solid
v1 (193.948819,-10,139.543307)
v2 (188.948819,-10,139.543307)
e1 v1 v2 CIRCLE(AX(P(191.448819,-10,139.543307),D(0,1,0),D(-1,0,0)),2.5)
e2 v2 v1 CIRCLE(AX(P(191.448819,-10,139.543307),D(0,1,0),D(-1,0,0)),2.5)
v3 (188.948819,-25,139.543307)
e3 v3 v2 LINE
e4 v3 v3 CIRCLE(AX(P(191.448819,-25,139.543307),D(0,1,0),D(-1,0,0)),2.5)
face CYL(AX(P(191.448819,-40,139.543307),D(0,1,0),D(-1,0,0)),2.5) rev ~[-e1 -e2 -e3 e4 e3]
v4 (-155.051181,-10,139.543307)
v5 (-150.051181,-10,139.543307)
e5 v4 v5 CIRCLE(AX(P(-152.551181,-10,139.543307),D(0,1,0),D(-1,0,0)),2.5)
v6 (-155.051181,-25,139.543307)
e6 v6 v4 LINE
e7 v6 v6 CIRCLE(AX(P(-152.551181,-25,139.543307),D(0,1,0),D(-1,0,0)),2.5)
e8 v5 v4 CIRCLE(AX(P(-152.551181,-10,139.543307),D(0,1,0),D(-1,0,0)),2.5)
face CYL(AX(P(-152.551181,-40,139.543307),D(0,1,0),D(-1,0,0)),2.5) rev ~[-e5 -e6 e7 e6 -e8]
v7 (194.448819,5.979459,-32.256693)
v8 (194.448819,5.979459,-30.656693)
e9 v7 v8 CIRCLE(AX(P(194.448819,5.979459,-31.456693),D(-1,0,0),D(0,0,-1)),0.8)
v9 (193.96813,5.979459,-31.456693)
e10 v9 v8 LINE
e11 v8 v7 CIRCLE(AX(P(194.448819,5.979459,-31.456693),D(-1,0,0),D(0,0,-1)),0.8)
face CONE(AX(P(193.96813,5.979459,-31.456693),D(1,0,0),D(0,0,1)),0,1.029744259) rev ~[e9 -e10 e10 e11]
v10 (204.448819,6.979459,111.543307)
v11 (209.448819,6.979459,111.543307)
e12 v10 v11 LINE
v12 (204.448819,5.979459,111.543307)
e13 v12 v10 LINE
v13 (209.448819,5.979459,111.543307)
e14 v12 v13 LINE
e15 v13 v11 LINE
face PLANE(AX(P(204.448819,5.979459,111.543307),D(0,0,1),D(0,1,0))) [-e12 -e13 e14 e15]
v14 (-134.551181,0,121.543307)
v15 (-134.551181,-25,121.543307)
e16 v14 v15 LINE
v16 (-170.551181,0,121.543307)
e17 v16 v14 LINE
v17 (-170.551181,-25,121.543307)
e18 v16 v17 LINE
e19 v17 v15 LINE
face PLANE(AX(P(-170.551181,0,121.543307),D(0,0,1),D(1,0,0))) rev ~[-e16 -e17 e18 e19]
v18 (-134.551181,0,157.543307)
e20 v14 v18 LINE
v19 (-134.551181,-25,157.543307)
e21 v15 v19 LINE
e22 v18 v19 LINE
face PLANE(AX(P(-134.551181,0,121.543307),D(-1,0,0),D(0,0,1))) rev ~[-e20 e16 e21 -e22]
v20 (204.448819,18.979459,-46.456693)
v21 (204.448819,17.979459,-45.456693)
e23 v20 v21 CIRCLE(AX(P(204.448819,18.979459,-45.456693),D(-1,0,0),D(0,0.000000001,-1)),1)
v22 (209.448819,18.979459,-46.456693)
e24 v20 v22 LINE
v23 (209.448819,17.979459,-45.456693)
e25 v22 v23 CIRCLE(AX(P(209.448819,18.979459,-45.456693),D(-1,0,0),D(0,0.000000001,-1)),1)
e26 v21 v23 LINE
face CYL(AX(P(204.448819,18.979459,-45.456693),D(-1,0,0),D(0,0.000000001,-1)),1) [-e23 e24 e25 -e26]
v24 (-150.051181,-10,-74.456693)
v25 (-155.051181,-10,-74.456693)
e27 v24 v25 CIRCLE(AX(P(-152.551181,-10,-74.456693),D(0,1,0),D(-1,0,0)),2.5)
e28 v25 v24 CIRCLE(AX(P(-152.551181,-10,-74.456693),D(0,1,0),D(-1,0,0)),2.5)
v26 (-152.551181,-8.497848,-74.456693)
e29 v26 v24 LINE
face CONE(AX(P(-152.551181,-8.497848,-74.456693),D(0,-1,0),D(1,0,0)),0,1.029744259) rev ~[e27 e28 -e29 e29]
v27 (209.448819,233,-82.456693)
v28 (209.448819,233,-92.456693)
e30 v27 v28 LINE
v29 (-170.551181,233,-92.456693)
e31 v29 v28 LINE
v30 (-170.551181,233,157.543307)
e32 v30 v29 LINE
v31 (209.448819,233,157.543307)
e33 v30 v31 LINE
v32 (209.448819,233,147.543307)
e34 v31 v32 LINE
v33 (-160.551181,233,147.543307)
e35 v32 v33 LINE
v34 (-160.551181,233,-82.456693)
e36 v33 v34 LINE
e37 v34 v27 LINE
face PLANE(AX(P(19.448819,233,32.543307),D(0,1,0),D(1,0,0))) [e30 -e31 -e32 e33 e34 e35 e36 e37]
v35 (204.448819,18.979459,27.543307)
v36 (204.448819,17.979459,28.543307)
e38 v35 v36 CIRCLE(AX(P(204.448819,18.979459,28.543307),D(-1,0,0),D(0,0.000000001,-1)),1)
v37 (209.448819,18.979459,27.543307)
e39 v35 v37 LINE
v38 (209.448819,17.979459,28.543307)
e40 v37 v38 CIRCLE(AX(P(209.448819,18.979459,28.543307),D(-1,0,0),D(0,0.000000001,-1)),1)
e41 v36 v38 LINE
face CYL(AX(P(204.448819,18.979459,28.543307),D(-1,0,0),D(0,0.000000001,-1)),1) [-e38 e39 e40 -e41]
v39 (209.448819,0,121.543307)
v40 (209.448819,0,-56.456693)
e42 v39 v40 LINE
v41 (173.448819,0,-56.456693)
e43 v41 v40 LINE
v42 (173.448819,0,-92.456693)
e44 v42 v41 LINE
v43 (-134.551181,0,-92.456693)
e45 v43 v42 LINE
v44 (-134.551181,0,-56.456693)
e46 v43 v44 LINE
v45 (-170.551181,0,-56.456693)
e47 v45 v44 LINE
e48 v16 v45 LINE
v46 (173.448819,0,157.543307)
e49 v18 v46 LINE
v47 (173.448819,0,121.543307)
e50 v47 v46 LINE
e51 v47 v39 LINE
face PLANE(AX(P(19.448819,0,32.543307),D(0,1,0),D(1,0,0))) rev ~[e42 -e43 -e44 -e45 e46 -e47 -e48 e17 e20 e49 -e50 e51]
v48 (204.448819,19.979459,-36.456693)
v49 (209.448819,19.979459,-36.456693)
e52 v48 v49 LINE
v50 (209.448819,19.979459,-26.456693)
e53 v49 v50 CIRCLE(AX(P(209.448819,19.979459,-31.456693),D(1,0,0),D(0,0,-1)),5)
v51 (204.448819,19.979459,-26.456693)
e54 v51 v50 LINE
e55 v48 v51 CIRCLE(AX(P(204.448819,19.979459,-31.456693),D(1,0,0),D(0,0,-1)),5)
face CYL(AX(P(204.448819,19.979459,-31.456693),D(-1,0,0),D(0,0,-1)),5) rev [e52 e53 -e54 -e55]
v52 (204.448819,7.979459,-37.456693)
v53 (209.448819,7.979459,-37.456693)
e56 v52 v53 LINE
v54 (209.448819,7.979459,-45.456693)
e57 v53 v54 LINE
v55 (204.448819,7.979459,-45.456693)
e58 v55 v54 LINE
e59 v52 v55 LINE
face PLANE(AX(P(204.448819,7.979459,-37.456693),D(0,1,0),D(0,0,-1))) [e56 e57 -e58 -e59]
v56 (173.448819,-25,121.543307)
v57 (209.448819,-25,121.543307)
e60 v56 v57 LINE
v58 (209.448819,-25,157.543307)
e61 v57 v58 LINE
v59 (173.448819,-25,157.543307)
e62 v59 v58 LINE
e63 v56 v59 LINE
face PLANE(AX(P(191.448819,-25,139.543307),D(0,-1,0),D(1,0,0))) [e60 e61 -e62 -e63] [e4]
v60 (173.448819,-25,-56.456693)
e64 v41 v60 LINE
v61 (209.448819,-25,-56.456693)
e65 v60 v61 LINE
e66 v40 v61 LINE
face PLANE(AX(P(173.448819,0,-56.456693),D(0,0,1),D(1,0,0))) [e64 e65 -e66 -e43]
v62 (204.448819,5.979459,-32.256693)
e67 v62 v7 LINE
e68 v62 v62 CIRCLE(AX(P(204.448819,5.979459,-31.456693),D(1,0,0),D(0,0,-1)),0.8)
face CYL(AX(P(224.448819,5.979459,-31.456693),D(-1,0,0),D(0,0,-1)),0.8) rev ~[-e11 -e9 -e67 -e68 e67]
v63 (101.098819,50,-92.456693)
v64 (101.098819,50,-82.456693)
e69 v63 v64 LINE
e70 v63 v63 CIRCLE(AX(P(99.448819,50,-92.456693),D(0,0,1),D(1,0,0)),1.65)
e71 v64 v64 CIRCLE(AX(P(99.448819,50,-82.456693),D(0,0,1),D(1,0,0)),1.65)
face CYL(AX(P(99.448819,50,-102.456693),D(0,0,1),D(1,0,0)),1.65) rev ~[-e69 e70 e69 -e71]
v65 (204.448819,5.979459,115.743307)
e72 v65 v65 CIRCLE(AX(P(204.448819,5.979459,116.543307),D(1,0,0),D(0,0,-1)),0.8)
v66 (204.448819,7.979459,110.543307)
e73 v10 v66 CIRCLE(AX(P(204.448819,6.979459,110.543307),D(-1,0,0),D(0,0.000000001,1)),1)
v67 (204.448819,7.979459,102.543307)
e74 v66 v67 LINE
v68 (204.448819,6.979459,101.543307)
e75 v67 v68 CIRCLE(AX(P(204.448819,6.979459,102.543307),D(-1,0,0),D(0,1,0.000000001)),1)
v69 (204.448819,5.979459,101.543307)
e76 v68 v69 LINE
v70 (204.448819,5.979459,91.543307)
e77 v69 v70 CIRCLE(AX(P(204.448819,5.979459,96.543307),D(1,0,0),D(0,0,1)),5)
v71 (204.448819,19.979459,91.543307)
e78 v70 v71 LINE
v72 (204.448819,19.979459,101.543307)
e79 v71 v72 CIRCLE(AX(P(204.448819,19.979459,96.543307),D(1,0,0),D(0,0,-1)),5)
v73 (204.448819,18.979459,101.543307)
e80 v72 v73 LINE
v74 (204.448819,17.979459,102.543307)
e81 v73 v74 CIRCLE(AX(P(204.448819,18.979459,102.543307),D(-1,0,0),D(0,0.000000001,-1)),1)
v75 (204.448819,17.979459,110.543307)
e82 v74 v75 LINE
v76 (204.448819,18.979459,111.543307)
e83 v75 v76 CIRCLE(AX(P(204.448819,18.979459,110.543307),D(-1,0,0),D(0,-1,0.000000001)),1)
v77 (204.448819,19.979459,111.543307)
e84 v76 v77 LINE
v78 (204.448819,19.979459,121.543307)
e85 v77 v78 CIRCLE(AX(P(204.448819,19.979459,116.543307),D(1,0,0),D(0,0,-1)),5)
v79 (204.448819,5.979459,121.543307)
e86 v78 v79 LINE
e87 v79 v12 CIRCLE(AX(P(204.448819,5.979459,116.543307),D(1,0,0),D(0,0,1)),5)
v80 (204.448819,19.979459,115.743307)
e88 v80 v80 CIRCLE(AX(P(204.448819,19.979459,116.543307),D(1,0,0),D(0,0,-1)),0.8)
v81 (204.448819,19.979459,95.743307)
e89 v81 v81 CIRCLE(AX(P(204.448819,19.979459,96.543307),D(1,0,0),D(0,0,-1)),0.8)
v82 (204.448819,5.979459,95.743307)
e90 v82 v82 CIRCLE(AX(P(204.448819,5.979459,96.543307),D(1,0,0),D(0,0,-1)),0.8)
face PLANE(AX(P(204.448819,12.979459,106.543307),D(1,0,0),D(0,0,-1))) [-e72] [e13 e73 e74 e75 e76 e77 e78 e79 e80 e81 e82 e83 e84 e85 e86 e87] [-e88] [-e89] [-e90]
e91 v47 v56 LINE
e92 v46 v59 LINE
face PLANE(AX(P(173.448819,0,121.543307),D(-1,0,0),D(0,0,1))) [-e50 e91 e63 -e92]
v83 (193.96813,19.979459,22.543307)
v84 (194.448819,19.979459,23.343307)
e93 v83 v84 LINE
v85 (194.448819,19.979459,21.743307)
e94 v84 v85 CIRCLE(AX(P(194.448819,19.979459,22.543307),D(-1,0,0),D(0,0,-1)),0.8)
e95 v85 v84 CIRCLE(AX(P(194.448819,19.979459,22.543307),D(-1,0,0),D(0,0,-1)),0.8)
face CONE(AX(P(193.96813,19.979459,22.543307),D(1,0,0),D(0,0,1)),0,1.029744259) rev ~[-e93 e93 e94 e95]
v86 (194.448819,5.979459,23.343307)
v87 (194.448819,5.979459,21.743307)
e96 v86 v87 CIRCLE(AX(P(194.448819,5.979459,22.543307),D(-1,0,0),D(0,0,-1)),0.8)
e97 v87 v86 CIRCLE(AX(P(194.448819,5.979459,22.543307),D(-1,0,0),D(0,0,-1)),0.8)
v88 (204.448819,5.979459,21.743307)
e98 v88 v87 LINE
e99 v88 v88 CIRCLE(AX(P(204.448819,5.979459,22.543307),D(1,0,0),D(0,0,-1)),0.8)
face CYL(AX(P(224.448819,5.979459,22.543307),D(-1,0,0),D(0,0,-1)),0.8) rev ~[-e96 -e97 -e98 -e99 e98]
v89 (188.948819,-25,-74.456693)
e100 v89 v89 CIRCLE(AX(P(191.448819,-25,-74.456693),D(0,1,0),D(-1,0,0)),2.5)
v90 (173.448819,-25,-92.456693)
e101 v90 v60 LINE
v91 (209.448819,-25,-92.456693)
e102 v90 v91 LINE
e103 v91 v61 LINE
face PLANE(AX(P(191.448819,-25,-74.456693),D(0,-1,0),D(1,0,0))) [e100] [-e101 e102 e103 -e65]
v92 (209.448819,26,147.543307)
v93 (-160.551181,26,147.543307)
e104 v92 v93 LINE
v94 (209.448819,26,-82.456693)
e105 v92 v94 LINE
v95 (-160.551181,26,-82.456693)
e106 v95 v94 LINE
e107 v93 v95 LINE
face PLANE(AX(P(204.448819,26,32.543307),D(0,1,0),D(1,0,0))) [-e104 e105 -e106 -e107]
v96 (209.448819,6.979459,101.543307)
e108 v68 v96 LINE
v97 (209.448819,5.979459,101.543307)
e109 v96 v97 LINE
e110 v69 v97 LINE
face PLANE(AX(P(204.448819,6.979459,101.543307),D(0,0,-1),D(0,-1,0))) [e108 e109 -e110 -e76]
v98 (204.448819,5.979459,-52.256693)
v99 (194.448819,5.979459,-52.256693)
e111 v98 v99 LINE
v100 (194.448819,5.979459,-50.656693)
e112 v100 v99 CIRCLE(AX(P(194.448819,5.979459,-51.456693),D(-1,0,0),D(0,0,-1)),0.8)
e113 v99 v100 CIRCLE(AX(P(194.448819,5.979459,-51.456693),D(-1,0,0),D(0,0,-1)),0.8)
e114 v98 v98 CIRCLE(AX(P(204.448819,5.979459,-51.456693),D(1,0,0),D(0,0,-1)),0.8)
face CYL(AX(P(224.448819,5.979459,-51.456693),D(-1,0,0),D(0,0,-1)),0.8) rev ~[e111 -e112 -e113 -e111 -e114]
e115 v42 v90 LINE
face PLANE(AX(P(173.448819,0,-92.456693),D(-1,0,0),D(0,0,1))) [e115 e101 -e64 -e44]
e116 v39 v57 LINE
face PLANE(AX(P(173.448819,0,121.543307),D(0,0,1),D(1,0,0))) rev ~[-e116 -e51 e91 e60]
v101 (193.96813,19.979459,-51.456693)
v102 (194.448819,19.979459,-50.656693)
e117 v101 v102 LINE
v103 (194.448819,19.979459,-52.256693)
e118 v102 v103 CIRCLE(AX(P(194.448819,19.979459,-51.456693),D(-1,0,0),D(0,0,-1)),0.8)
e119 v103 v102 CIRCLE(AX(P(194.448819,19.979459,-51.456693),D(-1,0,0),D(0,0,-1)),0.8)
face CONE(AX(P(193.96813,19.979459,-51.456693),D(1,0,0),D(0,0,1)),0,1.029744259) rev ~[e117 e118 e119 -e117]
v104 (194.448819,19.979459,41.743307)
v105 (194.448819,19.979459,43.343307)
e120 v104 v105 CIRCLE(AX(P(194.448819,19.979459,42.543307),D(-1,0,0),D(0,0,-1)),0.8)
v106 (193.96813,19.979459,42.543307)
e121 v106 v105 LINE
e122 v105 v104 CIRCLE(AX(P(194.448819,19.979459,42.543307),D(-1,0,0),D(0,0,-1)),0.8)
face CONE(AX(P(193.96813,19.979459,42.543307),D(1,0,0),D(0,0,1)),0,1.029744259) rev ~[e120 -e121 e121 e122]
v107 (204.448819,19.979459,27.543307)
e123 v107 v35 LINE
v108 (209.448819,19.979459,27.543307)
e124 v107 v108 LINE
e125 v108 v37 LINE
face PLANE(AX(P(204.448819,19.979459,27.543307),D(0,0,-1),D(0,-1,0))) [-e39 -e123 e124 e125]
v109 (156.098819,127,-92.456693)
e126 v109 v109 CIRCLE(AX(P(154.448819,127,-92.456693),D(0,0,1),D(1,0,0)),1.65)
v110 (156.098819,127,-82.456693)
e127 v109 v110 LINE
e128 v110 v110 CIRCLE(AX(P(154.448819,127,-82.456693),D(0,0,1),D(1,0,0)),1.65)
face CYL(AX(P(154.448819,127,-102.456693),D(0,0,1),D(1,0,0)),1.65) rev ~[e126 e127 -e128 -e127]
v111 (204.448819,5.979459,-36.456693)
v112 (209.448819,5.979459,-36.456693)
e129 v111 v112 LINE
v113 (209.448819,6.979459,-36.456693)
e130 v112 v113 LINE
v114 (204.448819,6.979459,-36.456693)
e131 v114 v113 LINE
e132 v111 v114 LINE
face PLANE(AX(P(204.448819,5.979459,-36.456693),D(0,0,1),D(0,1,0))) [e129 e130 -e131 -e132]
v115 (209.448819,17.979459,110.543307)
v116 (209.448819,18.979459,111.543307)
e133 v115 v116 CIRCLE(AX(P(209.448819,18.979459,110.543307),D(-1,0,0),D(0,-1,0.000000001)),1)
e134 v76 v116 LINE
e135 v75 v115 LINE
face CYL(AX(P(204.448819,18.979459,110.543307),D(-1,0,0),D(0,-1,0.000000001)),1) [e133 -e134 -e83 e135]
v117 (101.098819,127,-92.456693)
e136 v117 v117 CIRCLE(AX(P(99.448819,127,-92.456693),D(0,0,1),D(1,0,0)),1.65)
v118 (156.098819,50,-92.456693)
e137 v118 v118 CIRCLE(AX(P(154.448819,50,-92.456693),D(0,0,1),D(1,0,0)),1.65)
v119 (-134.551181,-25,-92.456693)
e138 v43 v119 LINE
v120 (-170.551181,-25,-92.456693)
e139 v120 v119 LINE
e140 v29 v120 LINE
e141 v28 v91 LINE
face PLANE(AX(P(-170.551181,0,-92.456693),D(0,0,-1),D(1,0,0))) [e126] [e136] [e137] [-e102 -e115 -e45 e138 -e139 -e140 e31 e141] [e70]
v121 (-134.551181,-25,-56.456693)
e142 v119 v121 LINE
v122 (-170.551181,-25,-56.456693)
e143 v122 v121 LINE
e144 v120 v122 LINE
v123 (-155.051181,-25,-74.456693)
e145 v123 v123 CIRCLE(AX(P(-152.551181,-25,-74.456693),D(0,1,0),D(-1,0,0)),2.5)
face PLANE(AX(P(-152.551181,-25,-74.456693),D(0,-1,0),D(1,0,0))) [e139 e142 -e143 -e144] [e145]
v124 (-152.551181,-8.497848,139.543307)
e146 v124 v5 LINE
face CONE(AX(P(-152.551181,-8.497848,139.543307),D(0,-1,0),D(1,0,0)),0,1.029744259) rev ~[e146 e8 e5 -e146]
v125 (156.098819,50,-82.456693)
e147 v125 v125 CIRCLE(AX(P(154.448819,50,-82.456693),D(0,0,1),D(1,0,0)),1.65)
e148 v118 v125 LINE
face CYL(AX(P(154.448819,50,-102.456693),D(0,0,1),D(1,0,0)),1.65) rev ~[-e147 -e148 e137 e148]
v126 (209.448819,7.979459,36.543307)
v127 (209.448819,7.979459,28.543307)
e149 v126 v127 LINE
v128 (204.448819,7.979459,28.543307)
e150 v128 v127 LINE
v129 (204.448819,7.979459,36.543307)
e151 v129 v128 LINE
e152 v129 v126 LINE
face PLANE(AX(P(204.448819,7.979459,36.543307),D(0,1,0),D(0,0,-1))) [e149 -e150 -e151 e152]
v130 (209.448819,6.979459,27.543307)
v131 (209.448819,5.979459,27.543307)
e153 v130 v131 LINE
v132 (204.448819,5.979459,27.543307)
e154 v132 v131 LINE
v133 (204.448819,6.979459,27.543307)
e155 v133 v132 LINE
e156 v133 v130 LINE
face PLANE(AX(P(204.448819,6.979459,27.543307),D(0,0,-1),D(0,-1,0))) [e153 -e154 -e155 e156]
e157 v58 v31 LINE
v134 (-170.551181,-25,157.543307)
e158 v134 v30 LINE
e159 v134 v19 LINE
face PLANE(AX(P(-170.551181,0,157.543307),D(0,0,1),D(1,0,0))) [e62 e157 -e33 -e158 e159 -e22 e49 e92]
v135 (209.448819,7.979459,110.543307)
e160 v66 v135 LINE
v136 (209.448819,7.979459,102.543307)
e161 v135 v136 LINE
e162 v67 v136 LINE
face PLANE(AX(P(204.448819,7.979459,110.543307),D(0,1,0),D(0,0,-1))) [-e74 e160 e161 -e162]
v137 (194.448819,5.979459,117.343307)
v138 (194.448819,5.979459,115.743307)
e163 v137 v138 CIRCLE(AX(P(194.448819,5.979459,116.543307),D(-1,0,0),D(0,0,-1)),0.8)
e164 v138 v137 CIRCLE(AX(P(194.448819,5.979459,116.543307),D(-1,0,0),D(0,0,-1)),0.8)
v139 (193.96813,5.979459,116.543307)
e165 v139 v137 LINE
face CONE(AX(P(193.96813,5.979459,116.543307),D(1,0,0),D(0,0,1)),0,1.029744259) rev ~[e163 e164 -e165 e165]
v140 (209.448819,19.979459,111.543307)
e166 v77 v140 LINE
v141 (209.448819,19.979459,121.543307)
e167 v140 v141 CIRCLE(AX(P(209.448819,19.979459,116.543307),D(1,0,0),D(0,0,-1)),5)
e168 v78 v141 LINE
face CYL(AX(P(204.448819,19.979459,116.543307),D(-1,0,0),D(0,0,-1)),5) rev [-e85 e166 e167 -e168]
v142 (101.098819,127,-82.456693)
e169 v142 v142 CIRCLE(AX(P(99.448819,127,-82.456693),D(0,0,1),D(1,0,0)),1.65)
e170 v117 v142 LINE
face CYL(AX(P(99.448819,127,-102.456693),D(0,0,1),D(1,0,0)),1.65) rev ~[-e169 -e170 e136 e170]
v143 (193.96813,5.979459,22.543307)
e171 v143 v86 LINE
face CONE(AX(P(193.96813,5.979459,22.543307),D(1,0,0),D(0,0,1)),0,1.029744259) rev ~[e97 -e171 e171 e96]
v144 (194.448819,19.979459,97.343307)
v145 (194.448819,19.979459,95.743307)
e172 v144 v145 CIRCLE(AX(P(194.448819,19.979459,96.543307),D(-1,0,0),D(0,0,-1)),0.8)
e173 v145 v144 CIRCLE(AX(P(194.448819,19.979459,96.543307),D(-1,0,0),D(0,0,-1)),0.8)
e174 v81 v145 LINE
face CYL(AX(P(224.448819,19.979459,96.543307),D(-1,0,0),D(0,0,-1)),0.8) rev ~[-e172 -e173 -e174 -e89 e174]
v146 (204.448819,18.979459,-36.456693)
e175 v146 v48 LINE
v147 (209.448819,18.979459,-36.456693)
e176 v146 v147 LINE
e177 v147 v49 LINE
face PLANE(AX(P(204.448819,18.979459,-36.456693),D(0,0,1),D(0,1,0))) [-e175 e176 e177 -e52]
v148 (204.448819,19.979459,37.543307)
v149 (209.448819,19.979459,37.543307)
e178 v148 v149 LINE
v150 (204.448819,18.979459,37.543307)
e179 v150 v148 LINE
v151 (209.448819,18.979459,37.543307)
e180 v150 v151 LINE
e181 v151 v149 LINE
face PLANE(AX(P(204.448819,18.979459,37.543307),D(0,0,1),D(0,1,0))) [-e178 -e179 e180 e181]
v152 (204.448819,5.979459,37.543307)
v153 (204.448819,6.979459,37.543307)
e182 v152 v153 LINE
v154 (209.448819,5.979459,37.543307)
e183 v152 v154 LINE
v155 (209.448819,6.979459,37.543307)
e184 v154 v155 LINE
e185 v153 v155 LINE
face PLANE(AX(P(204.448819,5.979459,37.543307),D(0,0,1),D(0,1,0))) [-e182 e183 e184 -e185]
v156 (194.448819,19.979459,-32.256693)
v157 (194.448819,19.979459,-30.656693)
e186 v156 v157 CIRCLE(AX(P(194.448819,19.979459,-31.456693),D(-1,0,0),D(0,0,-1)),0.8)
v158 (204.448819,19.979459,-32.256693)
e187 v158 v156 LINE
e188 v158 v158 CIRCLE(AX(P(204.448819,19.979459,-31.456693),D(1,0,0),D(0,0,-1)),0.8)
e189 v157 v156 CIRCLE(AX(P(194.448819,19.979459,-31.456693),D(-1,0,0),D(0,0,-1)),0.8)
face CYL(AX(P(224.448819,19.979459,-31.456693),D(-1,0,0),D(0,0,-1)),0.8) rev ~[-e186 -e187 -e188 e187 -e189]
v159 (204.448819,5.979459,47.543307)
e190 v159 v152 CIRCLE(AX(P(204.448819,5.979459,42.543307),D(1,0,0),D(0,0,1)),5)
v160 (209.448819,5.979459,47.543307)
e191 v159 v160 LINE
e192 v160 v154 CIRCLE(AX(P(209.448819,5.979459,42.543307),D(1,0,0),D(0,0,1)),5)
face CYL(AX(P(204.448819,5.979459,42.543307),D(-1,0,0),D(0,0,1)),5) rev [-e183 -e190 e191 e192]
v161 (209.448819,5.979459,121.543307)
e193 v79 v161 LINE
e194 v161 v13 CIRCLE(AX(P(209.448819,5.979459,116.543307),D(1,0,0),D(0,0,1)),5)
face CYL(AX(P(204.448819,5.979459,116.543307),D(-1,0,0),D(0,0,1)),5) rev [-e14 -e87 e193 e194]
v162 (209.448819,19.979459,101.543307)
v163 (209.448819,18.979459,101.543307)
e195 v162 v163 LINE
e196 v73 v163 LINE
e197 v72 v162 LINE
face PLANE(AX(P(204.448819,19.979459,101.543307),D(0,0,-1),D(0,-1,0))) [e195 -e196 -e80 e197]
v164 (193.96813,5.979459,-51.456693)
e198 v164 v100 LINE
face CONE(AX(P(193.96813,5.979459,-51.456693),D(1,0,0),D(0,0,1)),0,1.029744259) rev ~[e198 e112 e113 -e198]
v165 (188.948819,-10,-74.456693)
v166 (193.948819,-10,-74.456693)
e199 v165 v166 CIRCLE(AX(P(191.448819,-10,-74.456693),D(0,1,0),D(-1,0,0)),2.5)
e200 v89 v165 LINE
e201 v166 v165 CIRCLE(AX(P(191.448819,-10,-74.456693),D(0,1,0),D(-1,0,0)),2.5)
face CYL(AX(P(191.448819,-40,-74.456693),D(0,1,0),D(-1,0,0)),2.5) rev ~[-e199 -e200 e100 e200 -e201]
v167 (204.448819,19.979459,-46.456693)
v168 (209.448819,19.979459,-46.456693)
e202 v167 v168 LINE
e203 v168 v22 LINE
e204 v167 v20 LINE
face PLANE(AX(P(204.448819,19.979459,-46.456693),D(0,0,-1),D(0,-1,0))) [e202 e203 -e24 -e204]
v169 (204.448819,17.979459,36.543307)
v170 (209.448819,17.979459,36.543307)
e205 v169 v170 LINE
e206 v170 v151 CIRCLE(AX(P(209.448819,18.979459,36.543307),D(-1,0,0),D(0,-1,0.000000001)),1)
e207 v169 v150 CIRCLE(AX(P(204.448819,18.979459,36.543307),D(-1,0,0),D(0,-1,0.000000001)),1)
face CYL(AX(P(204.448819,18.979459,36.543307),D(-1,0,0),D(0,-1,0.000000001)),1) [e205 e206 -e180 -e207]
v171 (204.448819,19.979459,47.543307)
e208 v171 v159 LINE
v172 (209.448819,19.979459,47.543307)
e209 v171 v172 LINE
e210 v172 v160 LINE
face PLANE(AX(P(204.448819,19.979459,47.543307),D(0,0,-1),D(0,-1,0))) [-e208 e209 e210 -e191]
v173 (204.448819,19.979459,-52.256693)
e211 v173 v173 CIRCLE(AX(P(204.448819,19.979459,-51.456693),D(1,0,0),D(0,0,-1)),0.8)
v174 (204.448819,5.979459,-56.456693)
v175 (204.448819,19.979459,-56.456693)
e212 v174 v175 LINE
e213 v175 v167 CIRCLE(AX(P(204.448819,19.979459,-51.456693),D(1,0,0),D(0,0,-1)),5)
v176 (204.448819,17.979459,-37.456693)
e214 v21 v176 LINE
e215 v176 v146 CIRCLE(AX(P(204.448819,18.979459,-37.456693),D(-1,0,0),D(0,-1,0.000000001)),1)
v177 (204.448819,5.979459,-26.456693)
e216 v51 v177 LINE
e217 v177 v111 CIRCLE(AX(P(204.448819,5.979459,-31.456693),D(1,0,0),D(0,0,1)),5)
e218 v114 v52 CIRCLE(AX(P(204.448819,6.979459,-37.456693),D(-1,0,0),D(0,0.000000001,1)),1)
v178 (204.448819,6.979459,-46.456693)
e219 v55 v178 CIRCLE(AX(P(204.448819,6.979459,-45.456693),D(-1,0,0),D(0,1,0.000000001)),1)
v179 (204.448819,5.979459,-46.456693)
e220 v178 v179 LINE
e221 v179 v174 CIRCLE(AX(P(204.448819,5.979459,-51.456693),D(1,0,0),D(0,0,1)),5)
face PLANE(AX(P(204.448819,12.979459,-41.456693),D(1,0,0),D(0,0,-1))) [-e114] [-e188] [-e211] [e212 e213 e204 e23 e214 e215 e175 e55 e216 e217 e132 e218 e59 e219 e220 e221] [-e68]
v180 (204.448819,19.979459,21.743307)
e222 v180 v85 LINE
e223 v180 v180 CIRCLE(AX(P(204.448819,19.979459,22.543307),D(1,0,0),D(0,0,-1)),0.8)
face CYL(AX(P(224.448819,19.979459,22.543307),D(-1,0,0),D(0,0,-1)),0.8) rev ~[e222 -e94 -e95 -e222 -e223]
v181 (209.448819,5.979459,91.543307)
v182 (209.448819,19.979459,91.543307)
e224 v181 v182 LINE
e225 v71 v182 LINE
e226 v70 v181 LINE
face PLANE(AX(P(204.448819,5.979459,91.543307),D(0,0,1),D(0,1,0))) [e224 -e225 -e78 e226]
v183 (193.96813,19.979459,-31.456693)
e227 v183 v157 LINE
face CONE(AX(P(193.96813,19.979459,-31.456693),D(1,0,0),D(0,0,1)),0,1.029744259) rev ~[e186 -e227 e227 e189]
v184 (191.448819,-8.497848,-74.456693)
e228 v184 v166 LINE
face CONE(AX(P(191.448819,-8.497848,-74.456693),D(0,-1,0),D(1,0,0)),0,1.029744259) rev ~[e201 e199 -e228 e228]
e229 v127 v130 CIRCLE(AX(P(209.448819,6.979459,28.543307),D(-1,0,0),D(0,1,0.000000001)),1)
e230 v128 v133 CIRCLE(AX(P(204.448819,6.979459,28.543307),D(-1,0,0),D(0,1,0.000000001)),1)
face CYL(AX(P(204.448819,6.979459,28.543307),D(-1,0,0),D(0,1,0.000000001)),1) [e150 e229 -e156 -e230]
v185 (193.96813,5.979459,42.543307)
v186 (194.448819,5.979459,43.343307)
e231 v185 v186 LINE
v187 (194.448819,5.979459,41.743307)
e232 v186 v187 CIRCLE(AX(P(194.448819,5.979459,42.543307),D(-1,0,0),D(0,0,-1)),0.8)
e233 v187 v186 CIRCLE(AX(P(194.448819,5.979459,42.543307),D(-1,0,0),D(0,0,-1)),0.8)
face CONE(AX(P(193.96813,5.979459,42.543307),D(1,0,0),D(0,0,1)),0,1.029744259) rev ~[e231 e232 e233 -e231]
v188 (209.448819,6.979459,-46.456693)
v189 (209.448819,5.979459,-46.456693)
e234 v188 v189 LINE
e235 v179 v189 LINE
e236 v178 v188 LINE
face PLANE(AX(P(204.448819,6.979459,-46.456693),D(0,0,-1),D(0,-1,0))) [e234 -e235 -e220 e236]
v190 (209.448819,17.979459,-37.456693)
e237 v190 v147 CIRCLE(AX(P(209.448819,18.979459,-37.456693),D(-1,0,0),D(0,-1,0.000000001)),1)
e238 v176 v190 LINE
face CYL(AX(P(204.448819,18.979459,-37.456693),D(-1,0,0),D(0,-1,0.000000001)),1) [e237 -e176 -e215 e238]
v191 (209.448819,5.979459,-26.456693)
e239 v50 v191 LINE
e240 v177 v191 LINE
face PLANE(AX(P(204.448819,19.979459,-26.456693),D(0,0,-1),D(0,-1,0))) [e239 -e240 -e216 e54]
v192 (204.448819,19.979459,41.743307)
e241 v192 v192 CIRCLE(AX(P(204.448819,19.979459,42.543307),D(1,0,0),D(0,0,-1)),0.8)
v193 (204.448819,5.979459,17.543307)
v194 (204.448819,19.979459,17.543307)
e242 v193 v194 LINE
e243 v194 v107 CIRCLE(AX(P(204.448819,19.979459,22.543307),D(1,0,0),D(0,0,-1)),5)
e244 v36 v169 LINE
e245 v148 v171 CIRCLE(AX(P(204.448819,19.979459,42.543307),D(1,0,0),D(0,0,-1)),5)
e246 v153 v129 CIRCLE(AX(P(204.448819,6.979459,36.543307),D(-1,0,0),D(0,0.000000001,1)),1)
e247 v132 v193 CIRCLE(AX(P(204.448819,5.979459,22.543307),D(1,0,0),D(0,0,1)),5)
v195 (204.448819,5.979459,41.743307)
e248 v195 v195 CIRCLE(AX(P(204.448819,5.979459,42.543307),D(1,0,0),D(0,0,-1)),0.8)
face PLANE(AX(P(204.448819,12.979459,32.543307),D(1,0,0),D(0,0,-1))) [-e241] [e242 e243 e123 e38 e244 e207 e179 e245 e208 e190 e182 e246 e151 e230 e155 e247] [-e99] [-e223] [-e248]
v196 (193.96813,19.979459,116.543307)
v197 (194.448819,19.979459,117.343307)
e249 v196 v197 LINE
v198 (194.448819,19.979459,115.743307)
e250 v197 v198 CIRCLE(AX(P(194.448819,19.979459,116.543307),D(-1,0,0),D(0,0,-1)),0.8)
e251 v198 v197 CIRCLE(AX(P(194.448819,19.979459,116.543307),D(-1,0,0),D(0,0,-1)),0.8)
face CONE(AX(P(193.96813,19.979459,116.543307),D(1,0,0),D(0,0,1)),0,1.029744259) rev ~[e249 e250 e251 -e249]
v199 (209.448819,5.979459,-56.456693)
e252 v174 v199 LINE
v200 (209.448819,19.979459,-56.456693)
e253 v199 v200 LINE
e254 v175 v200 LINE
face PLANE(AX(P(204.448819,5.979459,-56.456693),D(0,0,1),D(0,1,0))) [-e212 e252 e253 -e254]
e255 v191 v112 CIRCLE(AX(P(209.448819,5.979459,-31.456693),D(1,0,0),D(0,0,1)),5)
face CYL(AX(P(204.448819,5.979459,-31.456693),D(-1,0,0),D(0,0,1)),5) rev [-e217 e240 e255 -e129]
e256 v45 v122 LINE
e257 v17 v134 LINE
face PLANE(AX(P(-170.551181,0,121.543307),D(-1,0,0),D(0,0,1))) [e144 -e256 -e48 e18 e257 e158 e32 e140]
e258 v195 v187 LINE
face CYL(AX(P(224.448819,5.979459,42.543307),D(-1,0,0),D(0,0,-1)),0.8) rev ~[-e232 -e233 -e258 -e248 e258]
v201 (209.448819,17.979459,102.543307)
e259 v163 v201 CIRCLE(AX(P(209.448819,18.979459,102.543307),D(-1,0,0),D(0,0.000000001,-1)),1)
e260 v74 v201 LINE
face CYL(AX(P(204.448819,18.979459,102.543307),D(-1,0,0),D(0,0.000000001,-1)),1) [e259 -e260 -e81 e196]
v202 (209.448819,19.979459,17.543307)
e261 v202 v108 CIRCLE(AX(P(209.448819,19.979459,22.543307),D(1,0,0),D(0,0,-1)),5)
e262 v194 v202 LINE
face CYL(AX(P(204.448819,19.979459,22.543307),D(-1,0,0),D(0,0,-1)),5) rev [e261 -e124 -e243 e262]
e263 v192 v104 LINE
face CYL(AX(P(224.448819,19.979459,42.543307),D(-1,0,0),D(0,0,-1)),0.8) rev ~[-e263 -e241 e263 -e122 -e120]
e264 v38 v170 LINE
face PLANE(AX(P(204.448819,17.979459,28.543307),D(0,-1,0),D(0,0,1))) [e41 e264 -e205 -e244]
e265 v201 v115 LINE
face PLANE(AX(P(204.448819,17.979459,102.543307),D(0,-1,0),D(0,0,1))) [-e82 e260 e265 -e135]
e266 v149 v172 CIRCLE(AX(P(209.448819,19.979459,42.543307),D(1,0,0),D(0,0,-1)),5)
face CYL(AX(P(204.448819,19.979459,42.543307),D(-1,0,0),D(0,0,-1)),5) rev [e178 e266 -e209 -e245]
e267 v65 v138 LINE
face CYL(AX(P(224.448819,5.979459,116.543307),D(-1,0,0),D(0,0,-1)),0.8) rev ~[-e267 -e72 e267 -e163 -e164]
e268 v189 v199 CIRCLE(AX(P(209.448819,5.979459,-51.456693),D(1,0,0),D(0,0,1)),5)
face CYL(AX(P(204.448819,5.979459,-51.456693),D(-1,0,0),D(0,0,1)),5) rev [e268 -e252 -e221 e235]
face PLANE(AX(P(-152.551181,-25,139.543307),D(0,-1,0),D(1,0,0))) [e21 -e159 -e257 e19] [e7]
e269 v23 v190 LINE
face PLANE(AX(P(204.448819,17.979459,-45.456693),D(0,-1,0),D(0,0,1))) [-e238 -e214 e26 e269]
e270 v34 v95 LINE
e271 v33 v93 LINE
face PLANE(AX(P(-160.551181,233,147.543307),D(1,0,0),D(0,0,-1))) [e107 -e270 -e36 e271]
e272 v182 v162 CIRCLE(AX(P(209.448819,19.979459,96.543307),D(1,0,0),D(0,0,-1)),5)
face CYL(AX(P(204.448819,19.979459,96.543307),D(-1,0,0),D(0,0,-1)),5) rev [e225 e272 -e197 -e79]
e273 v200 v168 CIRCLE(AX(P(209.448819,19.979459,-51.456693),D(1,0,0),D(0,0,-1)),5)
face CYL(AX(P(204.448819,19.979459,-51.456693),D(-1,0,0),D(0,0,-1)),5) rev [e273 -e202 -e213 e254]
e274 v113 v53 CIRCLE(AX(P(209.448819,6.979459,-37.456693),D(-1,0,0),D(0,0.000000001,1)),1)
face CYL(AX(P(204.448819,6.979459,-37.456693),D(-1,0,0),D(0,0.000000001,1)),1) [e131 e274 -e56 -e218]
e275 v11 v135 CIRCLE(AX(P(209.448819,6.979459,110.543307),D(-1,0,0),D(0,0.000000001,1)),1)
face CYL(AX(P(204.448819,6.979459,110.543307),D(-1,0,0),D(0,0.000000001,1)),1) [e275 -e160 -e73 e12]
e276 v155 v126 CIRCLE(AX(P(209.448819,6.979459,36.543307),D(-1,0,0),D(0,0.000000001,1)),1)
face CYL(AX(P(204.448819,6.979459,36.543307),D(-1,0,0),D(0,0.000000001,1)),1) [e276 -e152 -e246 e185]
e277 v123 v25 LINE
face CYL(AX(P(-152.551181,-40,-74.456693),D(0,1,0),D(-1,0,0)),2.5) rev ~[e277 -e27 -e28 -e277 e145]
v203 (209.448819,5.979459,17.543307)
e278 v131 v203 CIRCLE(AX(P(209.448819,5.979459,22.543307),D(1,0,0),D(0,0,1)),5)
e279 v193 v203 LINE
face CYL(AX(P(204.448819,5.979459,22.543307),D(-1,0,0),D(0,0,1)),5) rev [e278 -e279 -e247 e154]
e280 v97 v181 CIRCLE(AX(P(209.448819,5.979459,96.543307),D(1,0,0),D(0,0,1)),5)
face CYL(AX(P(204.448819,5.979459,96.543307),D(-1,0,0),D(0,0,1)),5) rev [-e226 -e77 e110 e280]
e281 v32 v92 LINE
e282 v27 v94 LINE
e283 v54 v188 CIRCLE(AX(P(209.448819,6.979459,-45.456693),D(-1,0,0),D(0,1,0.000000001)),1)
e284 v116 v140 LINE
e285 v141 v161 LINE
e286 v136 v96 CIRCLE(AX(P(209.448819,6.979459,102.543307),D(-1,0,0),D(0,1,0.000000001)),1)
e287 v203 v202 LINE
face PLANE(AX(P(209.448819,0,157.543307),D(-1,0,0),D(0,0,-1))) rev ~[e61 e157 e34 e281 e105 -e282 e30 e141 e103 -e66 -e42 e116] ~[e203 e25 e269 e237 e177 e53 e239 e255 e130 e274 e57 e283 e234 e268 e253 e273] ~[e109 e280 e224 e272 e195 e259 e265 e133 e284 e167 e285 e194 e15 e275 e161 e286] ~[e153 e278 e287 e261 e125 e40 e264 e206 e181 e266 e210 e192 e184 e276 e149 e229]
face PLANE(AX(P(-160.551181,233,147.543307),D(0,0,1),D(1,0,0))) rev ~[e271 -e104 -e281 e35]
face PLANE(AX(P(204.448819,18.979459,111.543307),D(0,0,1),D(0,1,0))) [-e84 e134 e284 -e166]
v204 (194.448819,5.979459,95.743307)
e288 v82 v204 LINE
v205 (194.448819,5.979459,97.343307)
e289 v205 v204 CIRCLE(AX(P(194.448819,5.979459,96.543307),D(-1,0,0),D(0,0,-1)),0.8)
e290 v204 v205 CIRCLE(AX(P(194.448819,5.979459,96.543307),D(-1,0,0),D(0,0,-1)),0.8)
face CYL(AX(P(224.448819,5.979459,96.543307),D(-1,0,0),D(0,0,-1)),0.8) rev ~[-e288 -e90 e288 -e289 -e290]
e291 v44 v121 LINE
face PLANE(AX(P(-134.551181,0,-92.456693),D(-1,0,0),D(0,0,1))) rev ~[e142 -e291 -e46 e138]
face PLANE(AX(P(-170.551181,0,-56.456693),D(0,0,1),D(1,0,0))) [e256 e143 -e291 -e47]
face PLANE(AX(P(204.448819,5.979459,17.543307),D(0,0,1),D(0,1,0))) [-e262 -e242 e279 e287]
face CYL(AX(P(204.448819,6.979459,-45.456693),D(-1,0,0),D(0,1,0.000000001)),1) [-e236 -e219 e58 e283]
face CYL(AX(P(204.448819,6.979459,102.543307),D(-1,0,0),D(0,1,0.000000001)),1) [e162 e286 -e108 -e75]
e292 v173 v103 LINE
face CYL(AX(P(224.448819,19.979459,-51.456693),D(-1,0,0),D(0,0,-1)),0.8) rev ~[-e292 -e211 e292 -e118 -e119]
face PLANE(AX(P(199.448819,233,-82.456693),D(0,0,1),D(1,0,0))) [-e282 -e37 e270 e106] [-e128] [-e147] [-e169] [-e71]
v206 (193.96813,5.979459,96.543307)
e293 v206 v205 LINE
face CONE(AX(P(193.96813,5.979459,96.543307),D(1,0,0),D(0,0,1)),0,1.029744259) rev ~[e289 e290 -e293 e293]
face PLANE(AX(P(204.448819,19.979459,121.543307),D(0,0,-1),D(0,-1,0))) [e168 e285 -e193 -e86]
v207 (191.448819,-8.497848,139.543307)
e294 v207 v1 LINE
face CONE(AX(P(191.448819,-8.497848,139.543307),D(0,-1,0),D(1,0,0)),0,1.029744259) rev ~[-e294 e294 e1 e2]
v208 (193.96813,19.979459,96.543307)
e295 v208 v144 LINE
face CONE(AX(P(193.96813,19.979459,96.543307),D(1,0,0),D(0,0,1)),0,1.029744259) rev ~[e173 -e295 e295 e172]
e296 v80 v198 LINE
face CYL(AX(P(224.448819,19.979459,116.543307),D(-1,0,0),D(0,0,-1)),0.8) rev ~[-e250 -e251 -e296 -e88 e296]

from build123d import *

# Parameters (mm, degrees)
SKETCH_1_W             = 380
SKETCH_1_H             = 250
EXTRUDE_1_DEPTH        = 233
SKETCH_4_W             = 36
SKETCH_4_H             = 36
EXTRUDE_2_DEPTH        = 25
HOLE_WIZARD_M6_1_D     = 5
HOLE_WIZARD_M6_1_DEPTH = 15
HOLE_WIZARD_M6_1_TIP   = 1.502151548
SKETCH_2_W             = 360
SKETCH_2_H             = 230
CUT_EXTRUDE_1_DEPTH    = 207
HOLE_WIZARD_M4_1_D     = 3.3
HOLE_WIZARD_M4_1_DEPTH = 10
SKETCH_7_W             = 10
SKETCH_7_H             = 230
CUT_EXTRUDE_3_DEPTH    = 207
HOLE_WIZARD_M2_1_D     = 1.6
HOLE_WIZARD_M2_1_DEPTH = 15
HOLE_WIZARD_M2_1_TIP   = 0.480688495
CUT_EXTRUDE_START      = -5
SKETCH_22_R            = 0.8
CUT_EXTRUDE_6_DEPTH    = 5


with BuildPart() as part:
    # 草图1 → 凸台-拉伸1 (new body)
    with BuildSketch(Plane(origin=(0, 0, 0), x_dir=(1, 0, 0), z_dir=(0, 1, 0))):
        with Locations((19.448818898, -32.543307087)):
            Rectangle(SKETCH_1_W, SKETCH_1_H)
    extrude(amount=EXTRUDE_1_DEPTH)

    # 草图4 → 凸台-拉伸2 (add)
    with BuildSketch(Plane.XZ):
        with Locations((-152.551181102, 139.543307087)):
            Rectangle(SKETCH_4_W, SKETCH_4_H)
        with Locations((191.448818898, 139.543307087)):
            Rectangle(SKETCH_4_W, SKETCH_4_H)
        with Locations((191.448818898, -74.456692913)):
            Rectangle(SKETCH_4_W, SKETCH_4_H)
        with Locations((-152.551181102, -74.456692913)):
            Rectangle(SKETCH_4_W, SKETCH_4_H)
    extrude(amount=EXTRUDE_2_DEPTH)

    # M6 螺纹孔1
    with Locations(Plane.XZ.offset(25)):
        with Locations((-152.551181102, -74.456692913), (-152.551181102, 139.543307087), (191.448818898, 139.543307087), (191.448818898, -74.456692913)):
            Hole(HOLE_WIZARD_M6_1_D / 2, depth=HOLE_WIZARD_M6_1_DEPTH)
            with Locations((0, 0, -(HOLE_WIZARD_M6_1_DEPTH + HOLE_WIZARD_M6_1_TIP / 2))):  # 118° drill point
                Cone(0, HOLE_WIZARD_M6_1_D / 2, HOLE_WIZARD_M6_1_TIP, mode=Mode.SUBTRACT)

    # 草图2 → 切除-拉伸1 (cut)
    with BuildSketch(Plane(origin=(0, 233, 0), x_dir=(1, 0, 0), z_dir=(0, 1, 0))):
        with Locations((19.448818898, -32.543307087)):
            Rectangle(SKETCH_2_W, SKETCH_2_H)
    extrude(amount=-CUT_EXTRUDE_1_DEPTH, mode=Mode.SUBTRACT)

    # M4 螺纹孔1
    with Locations(Plane(origin=(0, 0, -92.456692913), x_dir=(-1, 0, 0), z_dir=(0, 0, -1))):
        with Locations((-154.448818898, 127), (-99.448818898, 127), (-154.448818898, 50), (-99.448818898, 50)):
            Hole(HOLE_WIZARD_M4_1_D / 2, depth=HOLE_WIZARD_M4_1_DEPTH)

    # 草图7 → 切除-拉伸3 (cut)
    with BuildSketch(Plane(origin=(0, 233, 0), x_dir=(1, 0, 0), z_dir=(0, 1, 0))):
        with Locations((204.448818898, -32.543307087)):
            Rectangle(SKETCH_7_W, SKETCH_7_H)
    extrude(amount=-CUT_EXTRUDE_3_DEPTH, mode=Mode.SUBTRACT)

    # M2 螺纹孔1
    with Locations(Plane(origin=(209.448818898, 19.97945856, 116.543307087), x_dir=(0, 0, 1), z_dir=(1, 0, 0))):
        with Locations((0, 0), (0, 14), (-20, 14), (-20, 0), (-74, 0), (-74, 14), (-94, 0), (-94, 14), (-148, 0), (-168, 0), (-148, 14), (-168, 14)):
            Hole(HOLE_WIZARD_M2_1_D / 2, depth=HOLE_WIZARD_M2_1_DEPTH)
            with Locations((0, 0, -(HOLE_WIZARD_M2_1_DEPTH + HOLE_WIZARD_M2_1_TIP / 2))):  # 118° drill point
                Cone(0, HOLE_WIZARD_M2_1_D / 2, HOLE_WIZARD_M2_1_TIP, mode=Mode.SUBTRACT)

    # 草图22 → 切除-拉伸6 (cut)
    # profile 1 of 3: a face of its own
    with BuildSketch(Plane(origin=(209.448818898, 0, 0), x_dir=(0, 0, -1), z_dir=(1, 0, 0)).offset(CUT_EXTRUDE_START)):
        with BuildLine():
            Line((-101.543307087, 6.97945856), (-101.543307087, 5.97945856))
            ThreePointArc((-101.543307087, 5.97945856), (-96.543307087, 0.97945856), (-91.543307087, 5.97945856))
            Line((-91.543307087, 5.97945856), (-91.543307087, 19.97945856))
            ThreePointArc((-91.543307087, 19.97945856), (-96.543307087, 24.97945856), (-101.543307087, 19.97945856))
            Line((-101.543307087, 19.97945856), (-101.543307087, 18.97945856))
            ThreePointArc((-101.543307087, 18.97945856), (-101.836200305, 18.272351779), (-102.543307087, 17.97945856))
            Line((-102.543307087, 17.97945856), (-110.543307087, 17.97945856))
            ThreePointArc((-110.543307087, 17.97945856), (-111.250413868, 18.272351779), (-111.543307087, 18.97945856))
            Line((-111.543307087, 18.97945856), (-111.543307087, 19.97945856))
            ThreePointArc((-111.543307087, 19.97945856), (-116.543307087, 24.97945856), (-121.543307087, 19.97945856))
            Line((-121.543307087, 19.97945856), (-121.543307087, 5.97945856))
            ThreePointArc((-121.543307087, 5.97945856), (-116.543307087, 0.97945856), (-111.543307087, 5.97945856))
            Line((-111.543307087, 5.97945856), (-111.543307087, 6.97945856))
            ThreePointArc((-111.543307087, 6.97945856), (-111.250413868, 7.686565341), (-110.543307087, 7.97945856))
            Line((-110.543307087, 7.97945856), (-102.543307087, 7.97945856))
            ThreePointArc((-102.543307087, 7.97945856), (-101.836200305, 7.686565341), (-101.543307087, 6.97945856))
        make_face()
        with Locations((-96.543307087, 5.97945856)):
            Circle(SKETCH_22_R, mode=Mode.SUBTRACT)
        with Locations((-96.543307087, 19.97945856)):
            Circle(SKETCH_22_R, mode=Mode.SUBTRACT)
        with Locations((-116.543307087, 5.97945856)):
            Circle(SKETCH_22_R, mode=Mode.SUBTRACT)
        with Locations((-116.543307087, 19.97945856)):
            Circle(SKETCH_22_R, mode=Mode.SUBTRACT)
    # profile 2 of 3: a face of its own
    with BuildSketch(Plane(origin=(209.448818898, 0, 0), x_dir=(0, 0, -1), z_dir=(1, 0, 0)).offset(CUT_EXTRUDE_START)):
        with BuildLine():
            ThreePointArc((46.456692913, 5.97945856), (51.456692913, 0.97945856), (56.456692913, 5.97945856))
            Line((56.456692913, 5.97945856), (56.456692913, 19.97945856))
            ThreePointArc((56.456692913, 19.97945856), (51.456692913, 24.97945856), (46.456692913, 19.97945856))
            Line((46.456692913, 19.97945856), (46.456692913, 18.97945856))
            ThreePointArc((46.456692913, 18.97945856), (46.163799695, 18.272351779), (45.456692913, 17.97945856))
            Line((45.456692913, 17.97945856), (37.456692913, 17.97945856))
            ThreePointArc((37.456692913, 17.97945856), (36.749586132, 18.272351779), (36.456692913, 18.97945856))
            Line((36.456692913, 18.97945856), (36.456692913, 19.97945856))
            ThreePointArc((36.456692913, 19.97945856), (31.456692913, 24.97945856), (26.456692913, 19.97945856))
            Line((26.456692913, 19.97945856), (26.456692913, 5.97945856))
            ThreePointArc((26.456692913, 5.97945856), (31.456692913, 0.97945856), (36.456692913, 5.97945856))
            Line((36.456692913, 5.97945856), (36.456692913, 6.97945856))
            ThreePointArc((36.456692913, 6.97945856), (36.749586132, 7.686565341), (37.456692913, 7.97945856))
            Line((37.456692913, 7.97945856), (45.456692913, 7.97945856))
            ThreePointArc((45.456692913, 7.97945856), (46.163799695, 7.686565341), (46.456692913, 6.97945856))
            Line((46.456692913, 6.97945856), (46.456692913, 5.97945856))
        make_face()
        with Locations((31.456692913, 19.97945856)):
            Circle(SKETCH_22_R, mode=Mode.SUBTRACT)
        with Locations((31.456692913, 5.97945856)):
            Circle(SKETCH_22_R, mode=Mode.SUBTRACT)
        with Locations((51.456692913, 19.97945856)):
            Circle(SKETCH_22_R, mode=Mode.SUBTRACT)
        with Locations((51.456692913, 5.97945856)):
            Circle(SKETCH_22_R, mode=Mode.SUBTRACT)
    # profile 3 of 3: a face of its own
    with BuildSketch(Plane(origin=(209.448818898, 0, 0), x_dir=(0, 0, -1), z_dir=(1, 0, 0)).offset(CUT_EXTRUDE_START)):
        with BuildLine():
            Line((-27.543307087, 6.97945856), (-27.543307087, 5.97945856))
            ThreePointArc((-27.543307087, 5.97945856), (-22.543307087, 0.97945856), (-17.543307087, 5.97945856))
            Line((-17.543307087, 5.97945856), (-17.543307087, 19.97945856))
            ThreePointArc((-17.543307087, 19.97945856), (-22.543307087, 24.97945856), (-27.543307087, 19.97945856))
            Line((-27.543307087, 19.97945856), (-27.543307087, 18.97945856))
            ThreePointArc((-27.543307087, 18.97945856), (-27.836200305, 18.272351779), (-28.543307087, 17.97945856))
            Line((-28.543307087, 17.97945856), (-36.543307087, 17.97945856))
            ThreePointArc((-36.543307087, 17.97945856), (-37.250413868, 18.272351779), (-37.543307087, 18.97945856))
            Line((-37.543307087, 18.97945856), (-37.543307087, 19.97945856))
            ThreePointArc((-37.543307087, 19.97945856), (-42.543307087, 24.97945856), (-47.543307087, 19.97945856))
            Line((-47.543307087, 19.97945856), (-47.543307087, 5.97945856))
            ThreePointArc((-47.543307087, 5.97945856), (-42.543307087, 0.97945856), (-37.543307087, 5.97945856))
            Line((-37.543307087, 5.97945856), (-37.543307087, 6.97945856))
            ThreePointArc((-37.543307087, 6.97945856), (-37.250413868, 7.686565341), (-36.543307087, 7.97945856))
            Line((-36.543307087, 7.97945856), (-28.543307087, 7.97945856))
            ThreePointArc((-28.543307087, 7.97945856), (-27.836200305, 7.686565341), (-27.543307087, 6.97945856))
        make_face()
        with Locations((-42.543307087, 19.97945856)):
            Circle(SKETCH_22_R, mode=Mode.SUBTRACT)
        with Locations((-42.543307087, 5.97945856)):
            Circle(SKETCH_22_R, mode=Mode.SUBTRACT)
        with Locations((-22.543307087, 19.97945856)):
            Circle(SKETCH_22_R, mode=Mode.SUBTRACT)
        with Locations((-22.543307087, 5.97945856)):
            Circle(SKETCH_22_R, mode=Mode.SUBTRACT)
    extrude(amount=CUT_EXTRUDE_6_DEPTH, mode=Mode.SUBTRACT)


solid = part.part
